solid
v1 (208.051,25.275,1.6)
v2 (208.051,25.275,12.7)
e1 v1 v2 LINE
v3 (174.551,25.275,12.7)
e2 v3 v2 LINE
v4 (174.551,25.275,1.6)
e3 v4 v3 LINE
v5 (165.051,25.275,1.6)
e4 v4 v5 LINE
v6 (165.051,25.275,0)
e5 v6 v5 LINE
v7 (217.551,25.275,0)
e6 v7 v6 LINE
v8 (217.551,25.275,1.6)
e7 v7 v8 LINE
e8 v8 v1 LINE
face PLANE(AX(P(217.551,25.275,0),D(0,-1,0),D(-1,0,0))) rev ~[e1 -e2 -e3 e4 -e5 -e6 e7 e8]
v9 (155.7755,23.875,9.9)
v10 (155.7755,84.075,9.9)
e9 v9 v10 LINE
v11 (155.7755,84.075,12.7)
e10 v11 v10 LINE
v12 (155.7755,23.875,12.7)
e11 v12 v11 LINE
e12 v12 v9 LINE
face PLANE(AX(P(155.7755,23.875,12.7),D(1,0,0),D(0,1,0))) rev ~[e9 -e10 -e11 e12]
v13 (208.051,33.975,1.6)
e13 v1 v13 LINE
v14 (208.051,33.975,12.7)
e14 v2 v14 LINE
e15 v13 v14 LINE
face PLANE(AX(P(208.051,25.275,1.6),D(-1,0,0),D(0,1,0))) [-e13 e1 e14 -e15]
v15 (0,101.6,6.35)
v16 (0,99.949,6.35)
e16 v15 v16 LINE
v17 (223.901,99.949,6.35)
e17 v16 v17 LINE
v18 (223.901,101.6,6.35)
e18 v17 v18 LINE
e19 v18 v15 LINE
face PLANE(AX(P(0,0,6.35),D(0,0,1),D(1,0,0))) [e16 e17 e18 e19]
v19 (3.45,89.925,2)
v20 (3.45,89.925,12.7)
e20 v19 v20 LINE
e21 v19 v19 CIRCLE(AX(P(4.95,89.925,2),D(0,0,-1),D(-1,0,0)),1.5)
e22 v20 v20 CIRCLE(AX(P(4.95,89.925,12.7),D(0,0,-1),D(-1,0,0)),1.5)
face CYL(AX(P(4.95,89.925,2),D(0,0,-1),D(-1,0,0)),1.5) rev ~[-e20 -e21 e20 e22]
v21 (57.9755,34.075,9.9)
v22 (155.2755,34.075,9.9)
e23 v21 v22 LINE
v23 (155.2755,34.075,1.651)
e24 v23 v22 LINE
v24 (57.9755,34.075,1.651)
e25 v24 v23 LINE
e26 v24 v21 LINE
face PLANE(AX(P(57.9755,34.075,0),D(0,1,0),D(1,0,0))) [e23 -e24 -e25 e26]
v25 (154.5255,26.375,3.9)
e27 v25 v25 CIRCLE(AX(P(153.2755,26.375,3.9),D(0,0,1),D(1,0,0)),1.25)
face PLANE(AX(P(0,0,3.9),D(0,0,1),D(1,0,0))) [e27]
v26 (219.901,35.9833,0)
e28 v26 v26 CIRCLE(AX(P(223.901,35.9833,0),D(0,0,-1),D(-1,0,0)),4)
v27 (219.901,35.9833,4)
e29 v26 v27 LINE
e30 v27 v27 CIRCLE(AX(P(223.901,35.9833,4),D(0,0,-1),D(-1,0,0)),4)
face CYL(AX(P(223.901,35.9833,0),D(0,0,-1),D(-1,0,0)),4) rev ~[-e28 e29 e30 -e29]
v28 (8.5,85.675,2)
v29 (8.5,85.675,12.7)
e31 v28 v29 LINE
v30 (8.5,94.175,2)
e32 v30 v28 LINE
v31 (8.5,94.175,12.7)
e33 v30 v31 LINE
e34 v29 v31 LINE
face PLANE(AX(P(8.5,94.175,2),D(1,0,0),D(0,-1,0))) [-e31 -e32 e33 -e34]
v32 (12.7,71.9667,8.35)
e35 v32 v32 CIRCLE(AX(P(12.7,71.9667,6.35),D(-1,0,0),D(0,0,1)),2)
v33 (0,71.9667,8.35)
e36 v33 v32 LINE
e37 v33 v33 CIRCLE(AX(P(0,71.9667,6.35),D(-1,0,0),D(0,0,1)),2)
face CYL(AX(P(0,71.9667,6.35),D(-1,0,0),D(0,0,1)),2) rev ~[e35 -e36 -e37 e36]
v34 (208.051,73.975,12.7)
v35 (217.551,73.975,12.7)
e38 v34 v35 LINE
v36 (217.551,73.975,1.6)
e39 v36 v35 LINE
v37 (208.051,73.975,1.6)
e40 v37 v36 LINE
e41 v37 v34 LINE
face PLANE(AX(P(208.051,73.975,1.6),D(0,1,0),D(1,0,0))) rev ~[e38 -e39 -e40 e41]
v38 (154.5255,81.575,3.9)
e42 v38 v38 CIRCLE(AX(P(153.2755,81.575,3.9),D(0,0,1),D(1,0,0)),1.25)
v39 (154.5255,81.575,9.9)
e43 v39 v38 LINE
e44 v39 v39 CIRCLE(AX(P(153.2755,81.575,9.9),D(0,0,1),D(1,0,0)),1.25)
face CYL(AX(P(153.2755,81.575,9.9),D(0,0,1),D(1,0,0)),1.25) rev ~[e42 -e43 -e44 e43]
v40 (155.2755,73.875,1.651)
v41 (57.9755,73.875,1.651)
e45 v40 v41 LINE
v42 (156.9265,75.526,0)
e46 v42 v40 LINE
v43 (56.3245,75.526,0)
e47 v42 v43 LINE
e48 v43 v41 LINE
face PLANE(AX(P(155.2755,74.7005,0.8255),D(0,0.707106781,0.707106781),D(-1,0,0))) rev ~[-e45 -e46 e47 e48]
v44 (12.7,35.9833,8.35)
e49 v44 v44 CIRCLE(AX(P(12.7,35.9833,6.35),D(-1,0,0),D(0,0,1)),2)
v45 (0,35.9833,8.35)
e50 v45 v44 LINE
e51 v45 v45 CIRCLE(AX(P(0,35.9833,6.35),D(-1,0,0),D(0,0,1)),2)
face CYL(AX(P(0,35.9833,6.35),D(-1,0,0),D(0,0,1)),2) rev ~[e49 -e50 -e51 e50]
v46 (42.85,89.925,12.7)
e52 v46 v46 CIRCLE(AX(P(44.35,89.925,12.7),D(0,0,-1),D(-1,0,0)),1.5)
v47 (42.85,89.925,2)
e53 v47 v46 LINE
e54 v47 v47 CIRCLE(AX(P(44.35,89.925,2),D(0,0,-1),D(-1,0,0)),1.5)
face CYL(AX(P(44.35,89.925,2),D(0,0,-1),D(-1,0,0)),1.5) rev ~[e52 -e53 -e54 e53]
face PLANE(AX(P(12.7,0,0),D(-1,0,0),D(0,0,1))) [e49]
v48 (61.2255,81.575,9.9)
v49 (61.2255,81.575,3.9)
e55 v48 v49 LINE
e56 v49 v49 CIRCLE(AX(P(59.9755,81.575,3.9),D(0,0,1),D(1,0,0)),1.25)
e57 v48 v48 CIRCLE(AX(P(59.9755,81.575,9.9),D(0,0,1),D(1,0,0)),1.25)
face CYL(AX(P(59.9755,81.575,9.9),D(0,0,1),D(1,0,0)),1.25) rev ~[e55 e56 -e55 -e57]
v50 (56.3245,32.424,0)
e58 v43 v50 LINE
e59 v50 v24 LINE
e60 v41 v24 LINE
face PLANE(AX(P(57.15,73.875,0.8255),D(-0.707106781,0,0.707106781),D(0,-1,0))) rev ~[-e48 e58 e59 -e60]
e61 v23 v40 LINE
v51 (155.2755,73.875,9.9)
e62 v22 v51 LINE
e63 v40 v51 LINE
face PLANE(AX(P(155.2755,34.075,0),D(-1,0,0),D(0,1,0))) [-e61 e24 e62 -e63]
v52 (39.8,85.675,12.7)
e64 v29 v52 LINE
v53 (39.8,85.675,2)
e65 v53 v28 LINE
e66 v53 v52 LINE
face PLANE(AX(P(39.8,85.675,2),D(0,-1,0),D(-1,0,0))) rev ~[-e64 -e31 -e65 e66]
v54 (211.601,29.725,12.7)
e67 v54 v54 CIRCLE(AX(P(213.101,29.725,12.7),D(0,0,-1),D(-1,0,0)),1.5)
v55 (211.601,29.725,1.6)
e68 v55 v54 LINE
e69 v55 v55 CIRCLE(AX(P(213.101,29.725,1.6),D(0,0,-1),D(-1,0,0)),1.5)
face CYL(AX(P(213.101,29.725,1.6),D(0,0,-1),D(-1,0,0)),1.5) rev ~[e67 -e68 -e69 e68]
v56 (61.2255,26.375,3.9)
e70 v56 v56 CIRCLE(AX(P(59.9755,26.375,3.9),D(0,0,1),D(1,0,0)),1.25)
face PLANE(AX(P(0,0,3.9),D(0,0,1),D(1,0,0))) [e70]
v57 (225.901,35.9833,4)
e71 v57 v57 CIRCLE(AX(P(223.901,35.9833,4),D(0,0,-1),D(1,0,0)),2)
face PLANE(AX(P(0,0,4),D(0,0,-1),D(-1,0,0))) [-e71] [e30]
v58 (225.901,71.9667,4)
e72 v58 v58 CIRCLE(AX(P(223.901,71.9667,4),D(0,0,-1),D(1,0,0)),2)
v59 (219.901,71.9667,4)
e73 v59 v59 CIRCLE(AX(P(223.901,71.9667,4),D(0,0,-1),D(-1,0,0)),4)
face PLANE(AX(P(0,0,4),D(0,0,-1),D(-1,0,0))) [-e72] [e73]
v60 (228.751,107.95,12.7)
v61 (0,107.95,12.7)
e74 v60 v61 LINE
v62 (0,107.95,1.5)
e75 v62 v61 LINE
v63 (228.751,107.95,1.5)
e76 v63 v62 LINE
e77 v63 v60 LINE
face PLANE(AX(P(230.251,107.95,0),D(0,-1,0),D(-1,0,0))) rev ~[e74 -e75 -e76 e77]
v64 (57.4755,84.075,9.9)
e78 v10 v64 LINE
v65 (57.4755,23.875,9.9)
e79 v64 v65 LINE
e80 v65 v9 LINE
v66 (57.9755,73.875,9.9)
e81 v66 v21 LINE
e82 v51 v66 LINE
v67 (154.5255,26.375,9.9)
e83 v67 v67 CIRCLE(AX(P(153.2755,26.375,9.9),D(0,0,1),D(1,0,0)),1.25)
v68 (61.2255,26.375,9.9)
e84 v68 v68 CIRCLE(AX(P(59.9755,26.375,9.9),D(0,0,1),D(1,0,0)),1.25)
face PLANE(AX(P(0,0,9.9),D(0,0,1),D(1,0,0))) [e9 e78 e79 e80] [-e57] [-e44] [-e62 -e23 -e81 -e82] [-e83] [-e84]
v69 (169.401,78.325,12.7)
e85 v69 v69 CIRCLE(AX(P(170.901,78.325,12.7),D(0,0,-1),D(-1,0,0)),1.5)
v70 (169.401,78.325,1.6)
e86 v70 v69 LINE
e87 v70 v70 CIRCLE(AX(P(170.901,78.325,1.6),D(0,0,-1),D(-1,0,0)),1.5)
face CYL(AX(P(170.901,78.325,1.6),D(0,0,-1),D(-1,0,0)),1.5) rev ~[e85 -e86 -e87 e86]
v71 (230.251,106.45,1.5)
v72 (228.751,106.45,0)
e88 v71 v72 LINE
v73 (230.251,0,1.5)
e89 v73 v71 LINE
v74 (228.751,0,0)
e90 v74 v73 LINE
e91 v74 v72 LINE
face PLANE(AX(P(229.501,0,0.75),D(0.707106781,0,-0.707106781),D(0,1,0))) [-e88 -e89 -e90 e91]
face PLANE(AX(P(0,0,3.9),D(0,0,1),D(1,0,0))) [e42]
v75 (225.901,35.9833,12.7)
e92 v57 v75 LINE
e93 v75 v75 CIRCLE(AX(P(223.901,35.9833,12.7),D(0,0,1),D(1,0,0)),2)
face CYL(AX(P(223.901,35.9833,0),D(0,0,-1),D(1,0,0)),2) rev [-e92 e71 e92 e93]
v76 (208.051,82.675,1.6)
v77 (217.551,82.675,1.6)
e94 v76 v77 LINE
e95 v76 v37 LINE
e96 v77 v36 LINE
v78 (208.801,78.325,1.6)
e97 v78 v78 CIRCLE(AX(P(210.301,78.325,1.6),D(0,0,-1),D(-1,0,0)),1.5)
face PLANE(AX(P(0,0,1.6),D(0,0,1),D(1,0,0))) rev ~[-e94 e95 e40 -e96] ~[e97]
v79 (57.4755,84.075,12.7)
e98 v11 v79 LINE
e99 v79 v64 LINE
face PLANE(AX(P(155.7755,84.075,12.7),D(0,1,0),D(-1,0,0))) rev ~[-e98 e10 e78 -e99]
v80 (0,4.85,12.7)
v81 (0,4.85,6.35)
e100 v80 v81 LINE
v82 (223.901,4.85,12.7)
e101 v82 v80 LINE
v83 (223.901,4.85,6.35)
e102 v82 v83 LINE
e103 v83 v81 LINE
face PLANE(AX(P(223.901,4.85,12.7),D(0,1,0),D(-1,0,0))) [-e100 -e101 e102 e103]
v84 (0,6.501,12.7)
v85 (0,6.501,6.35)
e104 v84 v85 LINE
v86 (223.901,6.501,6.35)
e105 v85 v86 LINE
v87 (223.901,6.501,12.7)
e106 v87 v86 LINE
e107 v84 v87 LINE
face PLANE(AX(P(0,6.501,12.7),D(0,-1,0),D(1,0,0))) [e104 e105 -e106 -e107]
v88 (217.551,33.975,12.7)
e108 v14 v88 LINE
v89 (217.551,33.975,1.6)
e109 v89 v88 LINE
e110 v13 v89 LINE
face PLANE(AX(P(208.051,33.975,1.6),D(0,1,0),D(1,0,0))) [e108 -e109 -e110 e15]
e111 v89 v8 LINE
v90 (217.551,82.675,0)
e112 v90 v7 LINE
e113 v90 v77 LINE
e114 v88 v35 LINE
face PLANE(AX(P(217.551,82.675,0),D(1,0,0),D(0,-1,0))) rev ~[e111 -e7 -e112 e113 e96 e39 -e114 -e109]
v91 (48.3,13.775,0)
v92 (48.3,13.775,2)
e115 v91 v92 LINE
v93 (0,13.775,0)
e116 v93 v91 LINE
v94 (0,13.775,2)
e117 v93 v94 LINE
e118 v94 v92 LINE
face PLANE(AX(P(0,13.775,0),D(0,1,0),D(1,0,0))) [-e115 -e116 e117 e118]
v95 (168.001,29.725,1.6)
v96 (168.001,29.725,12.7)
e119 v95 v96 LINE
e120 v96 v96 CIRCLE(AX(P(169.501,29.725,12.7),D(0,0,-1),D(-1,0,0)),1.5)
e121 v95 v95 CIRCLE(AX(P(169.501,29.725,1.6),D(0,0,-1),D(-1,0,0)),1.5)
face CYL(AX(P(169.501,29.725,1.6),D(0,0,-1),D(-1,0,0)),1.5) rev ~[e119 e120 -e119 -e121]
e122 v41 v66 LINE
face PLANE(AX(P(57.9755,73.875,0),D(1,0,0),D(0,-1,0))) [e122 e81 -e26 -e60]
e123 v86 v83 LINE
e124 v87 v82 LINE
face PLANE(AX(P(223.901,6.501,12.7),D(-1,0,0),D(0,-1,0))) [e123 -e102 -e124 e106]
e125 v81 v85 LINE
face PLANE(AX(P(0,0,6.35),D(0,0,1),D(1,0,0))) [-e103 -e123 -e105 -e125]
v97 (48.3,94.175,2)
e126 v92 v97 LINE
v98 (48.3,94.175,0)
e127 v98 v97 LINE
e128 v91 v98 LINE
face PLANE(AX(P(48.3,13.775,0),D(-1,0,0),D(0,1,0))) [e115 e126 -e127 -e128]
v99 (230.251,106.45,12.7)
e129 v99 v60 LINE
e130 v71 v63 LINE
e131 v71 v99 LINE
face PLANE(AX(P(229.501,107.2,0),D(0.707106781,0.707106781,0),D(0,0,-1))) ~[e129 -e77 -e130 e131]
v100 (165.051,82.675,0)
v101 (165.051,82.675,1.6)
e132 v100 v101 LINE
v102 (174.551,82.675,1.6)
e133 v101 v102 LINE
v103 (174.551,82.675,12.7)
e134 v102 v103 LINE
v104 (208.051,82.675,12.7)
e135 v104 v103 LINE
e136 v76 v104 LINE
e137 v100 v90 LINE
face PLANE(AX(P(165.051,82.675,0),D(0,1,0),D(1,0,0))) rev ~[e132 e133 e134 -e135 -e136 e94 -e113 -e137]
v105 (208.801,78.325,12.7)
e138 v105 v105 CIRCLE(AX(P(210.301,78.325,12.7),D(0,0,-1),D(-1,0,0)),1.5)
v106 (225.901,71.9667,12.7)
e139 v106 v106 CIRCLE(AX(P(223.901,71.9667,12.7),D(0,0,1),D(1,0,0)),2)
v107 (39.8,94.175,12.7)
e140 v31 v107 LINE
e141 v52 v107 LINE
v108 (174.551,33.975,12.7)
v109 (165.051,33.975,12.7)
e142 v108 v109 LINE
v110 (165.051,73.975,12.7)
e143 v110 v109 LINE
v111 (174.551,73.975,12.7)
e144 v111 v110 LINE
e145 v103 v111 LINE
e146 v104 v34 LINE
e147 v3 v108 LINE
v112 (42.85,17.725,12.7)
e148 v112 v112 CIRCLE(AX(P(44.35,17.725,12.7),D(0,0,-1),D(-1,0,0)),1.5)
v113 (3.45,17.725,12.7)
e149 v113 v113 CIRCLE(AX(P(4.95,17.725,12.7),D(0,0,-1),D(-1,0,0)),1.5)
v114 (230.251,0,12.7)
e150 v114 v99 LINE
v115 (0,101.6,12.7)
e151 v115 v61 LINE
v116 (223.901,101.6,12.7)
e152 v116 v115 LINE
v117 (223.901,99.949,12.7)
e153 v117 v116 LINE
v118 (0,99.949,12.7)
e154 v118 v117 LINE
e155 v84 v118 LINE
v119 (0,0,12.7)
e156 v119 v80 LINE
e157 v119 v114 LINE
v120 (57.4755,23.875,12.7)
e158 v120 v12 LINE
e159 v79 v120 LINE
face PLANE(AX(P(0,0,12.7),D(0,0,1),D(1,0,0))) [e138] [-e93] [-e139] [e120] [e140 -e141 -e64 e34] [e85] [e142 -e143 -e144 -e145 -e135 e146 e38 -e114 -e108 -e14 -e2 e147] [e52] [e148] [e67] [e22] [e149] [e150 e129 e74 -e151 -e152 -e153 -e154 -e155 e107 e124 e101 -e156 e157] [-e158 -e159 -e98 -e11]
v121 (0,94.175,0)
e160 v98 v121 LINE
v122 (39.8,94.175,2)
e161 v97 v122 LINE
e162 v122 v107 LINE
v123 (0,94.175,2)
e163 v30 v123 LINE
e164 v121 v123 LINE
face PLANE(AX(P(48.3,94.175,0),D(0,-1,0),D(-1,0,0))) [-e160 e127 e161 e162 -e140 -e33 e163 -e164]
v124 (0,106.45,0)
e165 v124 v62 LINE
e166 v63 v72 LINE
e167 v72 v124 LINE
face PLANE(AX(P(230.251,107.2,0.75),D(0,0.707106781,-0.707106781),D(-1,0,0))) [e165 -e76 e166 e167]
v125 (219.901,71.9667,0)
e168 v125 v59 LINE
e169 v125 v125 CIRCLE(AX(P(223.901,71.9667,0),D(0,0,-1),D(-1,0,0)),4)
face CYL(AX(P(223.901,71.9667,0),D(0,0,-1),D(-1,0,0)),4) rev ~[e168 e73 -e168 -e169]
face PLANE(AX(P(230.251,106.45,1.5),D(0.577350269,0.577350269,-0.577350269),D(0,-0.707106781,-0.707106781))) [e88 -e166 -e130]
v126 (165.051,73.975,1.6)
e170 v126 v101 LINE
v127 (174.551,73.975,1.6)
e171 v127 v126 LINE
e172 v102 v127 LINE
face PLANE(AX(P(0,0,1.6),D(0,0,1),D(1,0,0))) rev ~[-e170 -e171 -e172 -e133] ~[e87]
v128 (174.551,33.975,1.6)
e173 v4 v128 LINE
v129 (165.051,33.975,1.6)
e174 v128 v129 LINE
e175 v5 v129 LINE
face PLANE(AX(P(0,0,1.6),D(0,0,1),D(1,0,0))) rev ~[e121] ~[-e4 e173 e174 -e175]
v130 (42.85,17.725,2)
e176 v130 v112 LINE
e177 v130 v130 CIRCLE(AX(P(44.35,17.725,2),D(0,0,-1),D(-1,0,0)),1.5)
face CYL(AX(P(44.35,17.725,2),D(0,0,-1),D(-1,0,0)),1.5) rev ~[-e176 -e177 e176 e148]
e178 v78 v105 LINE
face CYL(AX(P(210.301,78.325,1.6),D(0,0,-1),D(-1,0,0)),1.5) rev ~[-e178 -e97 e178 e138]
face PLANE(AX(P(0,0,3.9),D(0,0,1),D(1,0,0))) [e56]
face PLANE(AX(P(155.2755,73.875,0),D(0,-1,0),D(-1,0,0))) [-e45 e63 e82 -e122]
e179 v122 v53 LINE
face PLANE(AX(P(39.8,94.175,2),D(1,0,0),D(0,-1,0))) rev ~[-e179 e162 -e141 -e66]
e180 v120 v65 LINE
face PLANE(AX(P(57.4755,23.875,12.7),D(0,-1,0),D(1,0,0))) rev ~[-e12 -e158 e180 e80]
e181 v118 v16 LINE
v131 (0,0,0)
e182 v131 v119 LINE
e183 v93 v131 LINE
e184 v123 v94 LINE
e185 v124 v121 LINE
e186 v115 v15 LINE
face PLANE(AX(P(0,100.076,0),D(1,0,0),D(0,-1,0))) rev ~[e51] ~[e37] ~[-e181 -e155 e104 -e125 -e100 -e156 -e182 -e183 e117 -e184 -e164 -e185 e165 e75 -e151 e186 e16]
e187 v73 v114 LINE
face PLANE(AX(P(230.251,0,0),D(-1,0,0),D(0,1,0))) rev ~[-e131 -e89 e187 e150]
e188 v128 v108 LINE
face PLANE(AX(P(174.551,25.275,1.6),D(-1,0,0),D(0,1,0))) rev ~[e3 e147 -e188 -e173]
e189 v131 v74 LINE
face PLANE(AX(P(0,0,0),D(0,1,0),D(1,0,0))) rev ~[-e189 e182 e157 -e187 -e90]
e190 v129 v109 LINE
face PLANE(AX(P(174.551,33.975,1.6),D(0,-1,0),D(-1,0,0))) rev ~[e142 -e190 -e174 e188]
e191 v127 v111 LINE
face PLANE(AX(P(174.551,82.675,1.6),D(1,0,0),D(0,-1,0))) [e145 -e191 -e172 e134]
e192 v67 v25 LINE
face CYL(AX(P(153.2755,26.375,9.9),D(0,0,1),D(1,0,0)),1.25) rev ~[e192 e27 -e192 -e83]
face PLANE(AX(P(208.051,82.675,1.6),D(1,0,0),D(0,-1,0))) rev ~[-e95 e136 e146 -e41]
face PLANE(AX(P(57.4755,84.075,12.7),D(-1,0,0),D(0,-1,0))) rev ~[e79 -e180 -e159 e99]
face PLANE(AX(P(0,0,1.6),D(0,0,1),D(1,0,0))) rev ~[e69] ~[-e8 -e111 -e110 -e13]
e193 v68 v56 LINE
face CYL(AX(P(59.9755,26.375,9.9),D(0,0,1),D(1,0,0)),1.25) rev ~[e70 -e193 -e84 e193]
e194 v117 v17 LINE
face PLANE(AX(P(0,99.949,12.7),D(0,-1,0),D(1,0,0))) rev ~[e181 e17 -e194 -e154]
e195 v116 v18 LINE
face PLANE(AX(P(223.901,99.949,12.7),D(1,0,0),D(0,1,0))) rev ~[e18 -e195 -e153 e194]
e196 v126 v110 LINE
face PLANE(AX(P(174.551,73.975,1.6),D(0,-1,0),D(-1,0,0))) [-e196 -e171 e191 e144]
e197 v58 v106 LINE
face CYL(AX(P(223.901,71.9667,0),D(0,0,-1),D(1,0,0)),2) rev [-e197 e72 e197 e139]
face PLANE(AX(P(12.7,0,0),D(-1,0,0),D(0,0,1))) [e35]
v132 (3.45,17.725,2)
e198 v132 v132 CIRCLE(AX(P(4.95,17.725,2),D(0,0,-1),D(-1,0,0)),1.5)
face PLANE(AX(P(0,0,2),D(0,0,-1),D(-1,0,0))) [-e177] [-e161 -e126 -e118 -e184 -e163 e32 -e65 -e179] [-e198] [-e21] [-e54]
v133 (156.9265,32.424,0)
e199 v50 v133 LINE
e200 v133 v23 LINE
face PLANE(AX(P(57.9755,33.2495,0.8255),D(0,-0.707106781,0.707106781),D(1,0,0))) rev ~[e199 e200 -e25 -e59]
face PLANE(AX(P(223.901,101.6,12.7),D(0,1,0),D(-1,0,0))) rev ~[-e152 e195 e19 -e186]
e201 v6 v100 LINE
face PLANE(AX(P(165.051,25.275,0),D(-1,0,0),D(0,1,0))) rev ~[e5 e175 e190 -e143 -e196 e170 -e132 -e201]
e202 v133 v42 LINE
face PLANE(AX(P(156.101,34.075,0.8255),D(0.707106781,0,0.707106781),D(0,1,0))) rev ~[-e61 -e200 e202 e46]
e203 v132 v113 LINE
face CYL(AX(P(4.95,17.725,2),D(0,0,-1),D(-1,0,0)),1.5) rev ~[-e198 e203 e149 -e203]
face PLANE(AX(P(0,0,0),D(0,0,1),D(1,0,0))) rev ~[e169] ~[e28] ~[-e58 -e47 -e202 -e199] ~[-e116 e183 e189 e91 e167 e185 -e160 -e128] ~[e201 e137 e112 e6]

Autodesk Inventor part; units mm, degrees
ref_plane "YZ Plane" through (0, 0, 0) normal (1, 0, 0) x (0, 1, 0)
ref_plane "XZ Plane" through (0, 0, 0) normal (0, 1, 0) x (-1, 0, 0)
ref_plane "XY Plane" through (0, 0, 0) normal (0, 0, 1) x (1, 0, 0)
sketch "Sketch1" plane through (0, 0, 0) normal (0, 0, 1) x (1, 0, 0)
  line L0 (0, 0) -> (230.251, 0)
  line L1 (230.251, 0) -> (230.251, 107.95)
  line L2 (230.251, 107.95) -> (0, 107.95)
  line L3 (0, 107.95) -> (0, 0)
  line L4 (230.251, 107.95) -> (223.901, 107.95) construction
  line L5 (223.901, 107.95) -> (223.901, 101.6) construction
  line L6 (223.901, 101.6) -> (230.251, 101.6) construction
  line L7 (230.251, 101.6) -> (230.251, 107.95) construction
  line L8 (223.901, 101.6) -> (0, 101.6)
  line L9 (0, 101.6) -> (0, 100.076)
  line L10 (0, 100.076) -> (223.901, 100.076)
  line L11 (223.901, 100.076) -> (223.901, 101.6)
  line L12 (230.251, 0) -> (223.901, 0) construction
  line L13 (223.901, 0) -> (223.901, 35.9833) construction
  line L14 (223.901, 35.9833) -> (230.251, 35.9833) construction
  line L15 (230.251, 35.9833) -> (230.251, 0) construction
  circle A0 centre (223.901, 35.9833) radius 2
  circle A1 centre (223.901, 71.9667) radius 2
  dimension "length" = 230.251
  dimension "height" = 107.95
  dimension "d3" = 6.35
  dimension "d4" = 6.35
  dimension "d5" = 223.901
  dimension "d6" = 1.524
  dimension "spacing" = 35.9833
  dimension "d9" = 6.35
  dimension "TopScrewDiameter" = 4
  dimension "d13" = 35.9833
extrude "Generic Shape" add sketch "Sketch1" along normal blind 12.7
chamfer "Chamfer Outside Edges" distance 1.5 angle 45 3 edges at (115.1255, 107.95, 0) (230.251, 107.95, 6.35) (230.251, 53.975, 0)
sketch "ScrewCapDiameter" plane through (0, 0, 0) normal (0, 0, -1) x (-1, 0, 0)
  circle A0 centre (-223.901, 71.9667) radius 2 projected
  circle A1 centre (-223.901, 71.9667) radius 4
  circle A2 centre (-223.901, 35.9833) radius 2 projected
  circle A3 centre (-223.901, 35.9833) radius 4
  point P0 (0, 0)
  dimension "d106" = 8
  dimension "d107" = 8
extrude "ScrewCapCountersink" cut sketch "ScrewCapDiameter" against normal blind 4
sketch "PcbNotchDimensions" plane through (0, 0, 12.7) normal (0, 0, 1) x (1, 0, 0)
  line L0 (230.251, 107.95) -> (0, 107.95) construction
  line L1 (230.251, 107.95) -> (223.901, 107.95) construction
  line L2 (223.901, 107.95) -> (223.901, 101.6) construction
  line L3 (223.901, 101.6) -> (230.251, 101.6) construction
  line L4 (230.251, 101.6) -> (230.251, 107.95) construction
  line L5 (223.901, 101.6) -> (0, 101.6)
  line L6 (0, 101.6) -> (0, 99.949)
  line L7 (0, 99.949) -> (223.901, 99.949)
  line L8 (223.901, 99.949) -> (223.901, 101.6)
  line L9 (0, 106.45) -> (0, 0) construction
  line L10 (0, 53.225) -> (230.251, 53.225) construction
  line L11 (230.251, 106.45) -> (230.251, 0) construction
  line L12 (223.901, 4.85) -> (0, 4.85)
  line L13 (0, 4.85) -> (0, 6.501)
  line L14 (0, 6.501) -> (223.901, 6.501)
  line L15 (223.901, 6.501) -> (223.901, 4.85)
  dimension "d21" = 6.35
  dimension "d22" = 6.35
  dimension "d23" = 223.901
  dimension "PcbThickness" = 1.651
extrude "PCB Notch" cut sketch "PcbNotchDimensions" against normal blind 6.35
sketch "UntappedScrewHoleDimensions" plane through (0, 0, 0) normal (-1, 0, 0) x (0, 0, 1)
  line L0 (0, 0) -> (6.35, 0) construction
  line L1 (6.35, 0) -> (6.35, 35.9833) construction
  line L2 (6.35, 35.9833) -> (0, 35.9833) construction
  line L3 (0, 35.9833) -> (0, 0) construction
  circle A0 centre (6.35, 35.9833) radius 2
  line L4 (0, 107.95) -> (6.35, 107.95) construction
  line L5 (6.35, 107.95) -> (6.35, 71.9667) construction
  line L6 (6.35, 71.9667) -> (0, 71.9667) construction
  line L7 (0, 71.9667) -> (0, 107.95) construction
  circle A1 centre (6.35, 71.9667) radius 2
  dimension "d33" = 6.35
  dimension "d34" = 35.9833
  dimension "ScrewDiameterUntapped" = 4
  dimension "d36" = 6.35
  dimension "d37" = 35.9833
  dimension "d38" = 4
extrude "UntappedScrewDepth" cut sketch "UntappedScrewHoleDimensions" against normal blind 12.7
sketch "LCD" plane through (0, 0, 0) normal (0, 0, -1) x (-1, 0, 0)
  line L0 (0, 0) -> (-230.251, 0) construction
  line L1 (0, 0) -> (-106.6255, 0) construction
  line L2 (-106.6255, 0) -> (-106.6255, 53.975) construction
  line L3 (-106.6255, 53.975) -> (0, 53.975) construction
  line L4 (0, 53.975) -> (0, 0) construction
  line L5 (-155.2755, 73.875) -> (-57.9755, 73.875)
  line L6 (-57.9755, 73.875) -> (-57.9755, 34.075)
  line L7 (-57.9755, 34.075) -> (-155.2755, 34.075)
  line L8 (-155.2755, 34.075) -> (-155.2755, 73.875)
  line L9 (-155.2755, 73.875) -> (-57.9755, 34.075) construction
  line L10 (-57.9755, 73.875) -> (-155.2755, 34.075) construction
  line L11 (-155.7755, 84.075) -> (-57.4755, 84.075)
  line L12 (-57.4755, 84.075) -> (-57.4755, 23.875)
  line L13 (-57.4755, 23.875) -> (-155.7755, 23.875)
  line L14 (-155.7755, 23.875) -> (-155.7755, 84.075)
  line L15 (-155.7755, 84.075) -> (-57.4755, 23.875) construction
  line L16 (-57.4755, 84.075) -> (-155.7755, 23.875) construction
  dimension "d49" = 106.6255
  dimension "d50" = 53.975
  dimension "LcdLength" = 97.3
  dimension "LcdHeight" = 39.8
  dimension "LcdBorderHeight" = 60.2
  dimension "LcdBorderLength" = 98.3
extrude "LcdWindow" cut sketch "LCD" against normal blind 9.9 contours L5 L6 L7 L8
sketch "LcdFrameDimensions" plane through (0, 0, 12.7) normal (0, 0, 1) x (1, 0, 0)
  line L0 (155.7755, 84.075) -> (57.4755, 84.075) projected
  line L1 (155.7755, 23.875) -> (155.7755, 84.075) projected
  line L2 (57.4755, 23.875) -> (155.7755, 23.875) projected
  line L3 (57.4755, 84.075) -> (57.4755, 23.875) projected
  point P0 (0, 0)
extrude "LcdFrame" cut sketch "LcdFrameDimensions" against normal blind 2.8
sketch "LcdScrewsSketch" plane through (0, 0, 9.9) normal (0, 0, 1) x (1, 0, 0)
  line L0 (57.4755, 23.875) -> (57.4755, 84.075) construction
  line L1 (57.4755, 84.075) -> (59.9755, 84.075) construction
  line L2 (59.9755, 84.075) -> (59.9755, 81.575) construction
  line L3 (59.9755, 81.575) -> (57.4755, 81.575) construction
  line L4 (57.4755, 81.575) -> (57.4755, 84.075) construction
  circle A0 centre (59.9755, 81.575) radius 1.25
  line L5 (57.4755, 84.075) -> (155.7755, 84.075) construction
  line L6 (106.6255, 84.075) -> (106.6255, 23.875) construction
  line L7 (155.7755, 23.875) -> (57.4755, 23.875) construction
  line L8 (57.4755, 53.975) -> (155.7755, 53.975) construction
  line L9 (155.7755, 84.075) -> (155.7755, 23.875) construction
  circle A1 centre (153.2755, 81.575) radius 1.25
  circle A2 centre (59.9755, 26.375) radius 1.25
  circle A3 centre (153.2755, 26.375) radius 1.25
  point P0 (0, 0)
  dimension "LcdFrameHoleOffset" = 2.5
  dimension "d71" = 2.5
  dimension "LcdFrameHoleDiameterUntapped" = 2.5
extrude "LcdScrews" cut sketch "LcdScrewsSketch" against normal blind 6
sketch "InputDimensions" plane through (0, 0, 0) normal (0, 0, 1) x (1, 0, 0)
  line L0 (155.2755, 34.075) -> (155.2755, 73.875) construction
  line L1 (230.251, 0) -> (230.251, 107.95) construction
  line L2 (165.051, 82.675) -> (217.551, 82.675)
  line L3 (217.551, 82.675) -> (217.551, 25.275)
  line L4 (217.551, 25.275) -> (165.051, 25.275)
  line L5 (165.051, 25.275) -> (165.051, 82.675)
  line L6 (230.251, 107.95) -> (191.389, 107.95) construction
  line L7 (230.251, 53.975) -> (230.251, 107.95) construction
  line L8 (217.551, 82.675) -> (165.051, 25.275) construction
  line L9 (217.551, 25.275) -> (165.051, 82.675) construction
  line L10 (191.301, 53.975) -> (230.251, 53.975) construction
  line L11 (230.251, 53.975) -> (230.251, 107.95) construction
  line L12 (230.251, 107.95) -> (191.301, 107.95) construction
  line L13 (191.301, 107.95) -> (191.301, 53.975) construction
  point P0 (0, 0)
  dimension "InputHeight" = 57.4
  dimension "InputLength" = 52.5
  dimension "d93" = 38.95
  dimension "d94" = 53.975
extrude "InputCountersink" cut sketch "InputDimensions" along normal blind 1.6
sketch "InputCorners" plane through (0, 0, 1.6) normal (0, 0, -1) x (-1, 0, 0)
  line L0 (-217.551, 25.275) -> (-217.551, 82.675) projected
  line L1 (-217.551, 82.675) -> (-210.301, 82.675) construction
  line L2 (-210.301, 82.675) -> (-210.301, 78.325) construction
  line L3 (-210.301, 78.325) -> (-217.551, 78.325) construction
  line L4 (-217.551, 78.325) -> (-217.551, 82.675) construction
  circle A0 centre (-210.301, 78.325) radius 1.75 construction
  line L5 (-217.551, 82.675) -> (-165.051, 82.675) projected
  line L6 (-191.301, 82.675) -> (-191.301, 25.275) construction
  line L7 (-165.051, 25.275) -> (-217.551, 25.275) projected
  line L8 (-217.551, 53.975) -> (-165.051, 53.975) construction
  line L9 (-165.051, 82.675) -> (-165.051, 25.275) projected
  line L10 (-217.551, 82.675) -> (-208.051, 82.675) construction
  line L11 (-208.051, 82.675) -> (-208.051, 73.975)
  line L12 (-208.051, 73.975) -> (-217.551, 73.975)
  line L13 (-217.551, 73.975) -> (-217.551, 82.675) construction
  line L14 (-174.551, 82.675) -> (-174.551, 73.975)
  line L15 (-174.551, 73.975) -> (-165.051, 73.975)
  line L16 (-208.051, 25.275) -> (-208.051, 33.975)
  line L17 (-208.051, 33.975) -> (-217.551, 33.975)
  line L18 (-174.551, 33.975) -> (-165.051, 33.975)
  line L19 (-174.551, 25.275) -> (-174.551, 33.975)
  circle A1 centre (-210.301, 78.325) radius 1.5
  line L20 (-165.051, 82.675) -> (-170.901, 82.675) construction
  line L21 (-170.901, 82.675) -> (-170.901, 78.325) construction
  line L22 (-170.901, 78.325) -> (-165.051, 78.325) construction
  line L23 (-165.051, 78.325) -> (-165.051, 82.675) construction
  line L24 (-217.551, 25.275) -> (-213.101, 25.275) construction
  line L25 (-213.101, 25.275) -> (-213.101, 29.725) construction
  line L26 (-213.101, 29.725) -> (-217.551, 29.725) construction
  line L27 (-217.551, 29.725) -> (-217.551, 25.275) construction
  line L28 (-165.051, 25.275) -> (-169.501, 25.275) construction
  line L29 (-169.501, 25.275) -> (-169.501, 29.725) construction
  line L30 (-169.501, 29.725) -> (-165.051, 29.725) construction
  line L31 (-165.051, 29.725) -> (-165.051, 25.275) construction
  circle A2 centre (-213.101, 29.725) radius 1.5
  circle A3 centre (-169.501, 29.725) radius 1.5
  line L32 (-165.051, 82.675) -> (-165.051, 25.275) projected
  circle A4 centre (-170.901, 78.325) radius 1.5
  point P0 (0, 0)
  point P1 (-174.551, 82.675)
  point P2 (-208.051, 82.675)
  point P3 (-208.051, 25.275)
  point P4 (-174.551, 25.275)
  dimension "NWInputHoleSpacingX" = 7.25
  dimension "UpperInputHoleSpacingY" = 4.35
  dimension "InputScrewDiameterFull" = 3.5
  dimension "InputCornerLengthX" = 9.5
  dimension "InputCornerLengthY" = 8.7
  dimension "InputScrewDiameterUntapped" = 3
  dimension "NEInputHoleSpacingX" = 5.85
  dimension "d134" = 4.35
  dimension "LowerInputHoleSpacingY" = 4.45
  dimension "SWInputHoleSpacingX" = 4.45
  dimension "d138" = 4.45
  dimension "SEInputHoleSpacingX" = 4.45
  dimension "d140" = 3
  dimension "d141" = 3
  dimension "d142" = 3
extrude "InputCut" cut sketch "InputCorners" against normal blind 11.1 contours L0 L12 L11 L5 L14 L15 L9 L18 L19 L7 L16 L17 | A1 | A2 | A3 | A4
chamfer "LcdChamfer" distance 1.651 angle 45 4 edges at (106.6255, 73.875, 0) (155.2755, 53.975, 0) (106.6255, 34.075, 0) (57.9755, 53.975, 0)
sketch "KeypadDimensions" plane through (0, 0, 0) normal (0, 0, -1) x (-1, 0, 0)
  line L0 (-48.3, 94.175) -> (0, 94.175)
  line L1 (0, 94.175) -> (0, 13.775)
  line L2 (0, 13.775) -> (-48.3, 13.775)
  line L3 (-48.3, 13.775) -> (-48.3, 94.175)
  line L4 (-48.3, 94.175) -> (0, 13.775) construction
  line L5 (-48.3, 13.775) -> (0, 94.175) construction
  line L6 (0, 107.95) -> (0, 0) construction
  line L7 (0, 0) -> (-24.15, 0) construction
  line L8 (-24.15, 0) -> (-24.15, 53.975) construction
  line L9 (-24.15, 53.975) -> (0, 53.975) construction
  line L10 (0, 53.975) -> (0, 0) construction
  point P0 (0, 99.949)
  dimension "KeypadLength" = 48.3
  dimension "KeypadHeight" = 80.4
  dimension "d97" = 53.975
  dimension "d98" = 24.15
extrude "KeypadCountersink" cut sketch "KeypadDimensions" against normal blind 2
sketch "KeypadCorners" plane through (0, 0, 2) normal (0, 0, -1) x (-1, 0, 0)
  line L0 (-48.3, 13.775) -> (-48.3, 94.175) construction
  line L1 (-48.3, 94.175) -> (-44.35, 94.175) construction
  line L2 (-44.35, 94.175) -> (-44.35, 89.925) construction
  line L3 (-44.35, 89.925) -> (-48.3, 89.925) construction
  line L4 (-48.3, 89.925) -> (-48.3, 94.175) construction
  circle A0 centre (-44.35, 89.925) radius 1.75 construction
  circle A1 centre (-44.35, 89.925) radius 1.5
  line L5 (-48.3, 94.175) -> (-39.8, 94.175)
  line L6 (-39.8, 94.175) -> (-39.8, 85.675)
  line L7 (-39.8, 85.675) -> (-48.3, 85.675)
  line L8 (-48.3, 85.675) -> (-48.3, 94.175)
  line L9 (-48.3, 94.175) -> (0, 94.175) construction
  line L10 (-24.15, 94.175) -> (-24.15, 13.775) construction
  line L11 (0, 13.775) -> (-48.3, 13.775) construction
  line L12 (-48.3, 53.975) -> (0, 53.975) construction
  line L13 (0, 107.95) -> (0, 0) construction
  line L14 (-8.5, 94.175) -> (-8.5, 85.675)
  line L15 (-8.5, 85.675) -> (0, 85.675)
  line L16 (-39.8, 13.775) -> (-39.8, 22.275)
  line L17 (-39.8, 22.275) -> (-48.3, 22.275)
  line L18 (-8.5, 22.275) -> (0, 22.275)
  line L19 (-8.5, 13.775) -> (-8.5, 22.275)
  line L20 (-39.8, 85.675) -> (-8.5, 85.675)
  line L21 (0, 94.175) -> (-4.95, 94.175) construction
  line L22 (-4.95, 94.175) -> (-4.95, 89.925) construction
  line L23 (-4.95, 89.925) -> (0, 89.925) construction
  line L24 (0, 89.925) -> (0, 94.175) construction
  line L25 (0, 13.775) -> (-4.95, 13.775) construction
  line L26 (-4.95, 13.775) -> (-4.95, 17.725) construction
  line L27 (-4.95, 17.725) -> (0, 17.725) construction
  line L28 (0, 17.725) -> (0, 13.775) construction
  circle A2 centre (-4.95, 17.725) radius 1.5
  line L29 (-48.3, 13.775) -> (-44.35, 13.775) construction
  line L30 (-44.35, 13.775) -> (-44.35, 17.725) construction
  line L31 (-44.35, 17.725) -> (-48.3, 17.725) construction
  line L32 (-48.3, 17.725) -> (-48.3, 13.775) construction
  circle A3 centre (-44.35, 17.725) radius 1.5
  circle A4 centre (-4.95, 89.925) radius 1.5
  line L33 (-39.8, 94.175) -> (-8.5, 94.175)
  point P0 (0, 99.949)
  dimension "LeftKeypadHoleSpacingX" = 3.95
  dimension "UpperKeypadHoleSpacingY" = 4.25
  dimension "KeypadHoleDiameter" = 3.5
  dimension "KeypadScrewHoleDiameterUntapped" = 3
  dimension "KeypadCornerLengthX" = 8.5
  dimension "KeypadCornerLengthY" = 8.5
  dimension "RightKeypadHoleSpacingX" = 4.95
  dimension "d118" = 4.25
  dimension "d121" = 4.95
  dimension "LowerKeypadHoleSpacingY" = 3.95
  dimension "d123" = 3
  dimension "d124" = 3.95
  dimension "d125" = 3.95
  dimension "d126" = 3
  dimension "d127" = 3
extrude "KeypadHoles" cut sketch "KeypadCorners" against normal blind 11.1 contours A1 | L33 L14 L20 L6 | A2 | A3 | A4
thread "KeypadThreadNW" size "M3x0.5" class "6H" standard "ANSI Metric M Profile" full length
thread "KeypadThreadNE" size "M3x0.5" class "6H" standard "ANSI Metric M Profile" full length
thread "KeypadThreadSW" size "M3x0.5" class "6H" standard "ANSI Metric M Profile" full length
thread "KeypadThreadSE" size "M3x0.5" class "6H" standard "ANSI Metric M Profile" full length
thread "SideThreadTop" size "M4x0.7" class "6H" standard "ANSI Metric M Profile" length 230.251
thread "SideThreadBottom" size "M4x0.7" class "6H" standard "ANSI Metric M Profile" length 230.251
thread "InputThreadNW" size "M3x0.5" class "6H" standard "ANSI Metric M Profile" length 12.7
thread "InputThreadNE" size "M3x0.5" class "6H" standard "ANSI Metric M Profile" length 12.7
thread "InputThreadSE" size "M3x0.5" class "6H" standard "ANSI Metric M Profile" length 12.7
thread "InputThreadSW" size "M3x0.5" class "6H" standard "ANSI Metric M Profile" length 12.7
equation "\"d3\" = 0.5 * thickness"
equation "\"d4\" = 0.5 * thickness"
equation "\"d5\" = length - 0.5 * thickness"
equation "\"spacing\" = 0.333333 * height"
equation "\"d9\" = 0.5 * thickness"
equation "\"d13\" = spacing"
equation "\"d25\" = 0.5 * thickness"
equation "\"d33\" = 0.5 * thickness"
equation "\"d34\" = 0.333333 * height"
equation "\"d36\" = 0.5 * thickness"
equation "\"d37\" = 0.333333 * height"
equation "\"d38\" = ScrewDiameterUntapped"
equation "\"d50\" = 0.5 * height"
equation "\"d66\" = thickness - LcdPcbThickness"
equation "\"LcdPcbThickness\" = thickness - LcdThickness"
equation "\"d71\" = LcdFrameHoleOffset"
equation "\"d93\" = thickness + 0.5 * InputLength"
equation "\"d94\" = 0.5 * height"
equation "\"d84\" = thickness - InputThickness"
equation "\"d97\" = 0.5 * height"
equation "\"d98\" = 0.5 * KeypadLength"
equation "\"LcdThickness\" = 9.9"
equation "\"thickness\" = 12.7"
equation "\"InputThickness\" = 1.6"
properties part number "2020-04-12 CubeBaseFull" material "PET Plastic"
